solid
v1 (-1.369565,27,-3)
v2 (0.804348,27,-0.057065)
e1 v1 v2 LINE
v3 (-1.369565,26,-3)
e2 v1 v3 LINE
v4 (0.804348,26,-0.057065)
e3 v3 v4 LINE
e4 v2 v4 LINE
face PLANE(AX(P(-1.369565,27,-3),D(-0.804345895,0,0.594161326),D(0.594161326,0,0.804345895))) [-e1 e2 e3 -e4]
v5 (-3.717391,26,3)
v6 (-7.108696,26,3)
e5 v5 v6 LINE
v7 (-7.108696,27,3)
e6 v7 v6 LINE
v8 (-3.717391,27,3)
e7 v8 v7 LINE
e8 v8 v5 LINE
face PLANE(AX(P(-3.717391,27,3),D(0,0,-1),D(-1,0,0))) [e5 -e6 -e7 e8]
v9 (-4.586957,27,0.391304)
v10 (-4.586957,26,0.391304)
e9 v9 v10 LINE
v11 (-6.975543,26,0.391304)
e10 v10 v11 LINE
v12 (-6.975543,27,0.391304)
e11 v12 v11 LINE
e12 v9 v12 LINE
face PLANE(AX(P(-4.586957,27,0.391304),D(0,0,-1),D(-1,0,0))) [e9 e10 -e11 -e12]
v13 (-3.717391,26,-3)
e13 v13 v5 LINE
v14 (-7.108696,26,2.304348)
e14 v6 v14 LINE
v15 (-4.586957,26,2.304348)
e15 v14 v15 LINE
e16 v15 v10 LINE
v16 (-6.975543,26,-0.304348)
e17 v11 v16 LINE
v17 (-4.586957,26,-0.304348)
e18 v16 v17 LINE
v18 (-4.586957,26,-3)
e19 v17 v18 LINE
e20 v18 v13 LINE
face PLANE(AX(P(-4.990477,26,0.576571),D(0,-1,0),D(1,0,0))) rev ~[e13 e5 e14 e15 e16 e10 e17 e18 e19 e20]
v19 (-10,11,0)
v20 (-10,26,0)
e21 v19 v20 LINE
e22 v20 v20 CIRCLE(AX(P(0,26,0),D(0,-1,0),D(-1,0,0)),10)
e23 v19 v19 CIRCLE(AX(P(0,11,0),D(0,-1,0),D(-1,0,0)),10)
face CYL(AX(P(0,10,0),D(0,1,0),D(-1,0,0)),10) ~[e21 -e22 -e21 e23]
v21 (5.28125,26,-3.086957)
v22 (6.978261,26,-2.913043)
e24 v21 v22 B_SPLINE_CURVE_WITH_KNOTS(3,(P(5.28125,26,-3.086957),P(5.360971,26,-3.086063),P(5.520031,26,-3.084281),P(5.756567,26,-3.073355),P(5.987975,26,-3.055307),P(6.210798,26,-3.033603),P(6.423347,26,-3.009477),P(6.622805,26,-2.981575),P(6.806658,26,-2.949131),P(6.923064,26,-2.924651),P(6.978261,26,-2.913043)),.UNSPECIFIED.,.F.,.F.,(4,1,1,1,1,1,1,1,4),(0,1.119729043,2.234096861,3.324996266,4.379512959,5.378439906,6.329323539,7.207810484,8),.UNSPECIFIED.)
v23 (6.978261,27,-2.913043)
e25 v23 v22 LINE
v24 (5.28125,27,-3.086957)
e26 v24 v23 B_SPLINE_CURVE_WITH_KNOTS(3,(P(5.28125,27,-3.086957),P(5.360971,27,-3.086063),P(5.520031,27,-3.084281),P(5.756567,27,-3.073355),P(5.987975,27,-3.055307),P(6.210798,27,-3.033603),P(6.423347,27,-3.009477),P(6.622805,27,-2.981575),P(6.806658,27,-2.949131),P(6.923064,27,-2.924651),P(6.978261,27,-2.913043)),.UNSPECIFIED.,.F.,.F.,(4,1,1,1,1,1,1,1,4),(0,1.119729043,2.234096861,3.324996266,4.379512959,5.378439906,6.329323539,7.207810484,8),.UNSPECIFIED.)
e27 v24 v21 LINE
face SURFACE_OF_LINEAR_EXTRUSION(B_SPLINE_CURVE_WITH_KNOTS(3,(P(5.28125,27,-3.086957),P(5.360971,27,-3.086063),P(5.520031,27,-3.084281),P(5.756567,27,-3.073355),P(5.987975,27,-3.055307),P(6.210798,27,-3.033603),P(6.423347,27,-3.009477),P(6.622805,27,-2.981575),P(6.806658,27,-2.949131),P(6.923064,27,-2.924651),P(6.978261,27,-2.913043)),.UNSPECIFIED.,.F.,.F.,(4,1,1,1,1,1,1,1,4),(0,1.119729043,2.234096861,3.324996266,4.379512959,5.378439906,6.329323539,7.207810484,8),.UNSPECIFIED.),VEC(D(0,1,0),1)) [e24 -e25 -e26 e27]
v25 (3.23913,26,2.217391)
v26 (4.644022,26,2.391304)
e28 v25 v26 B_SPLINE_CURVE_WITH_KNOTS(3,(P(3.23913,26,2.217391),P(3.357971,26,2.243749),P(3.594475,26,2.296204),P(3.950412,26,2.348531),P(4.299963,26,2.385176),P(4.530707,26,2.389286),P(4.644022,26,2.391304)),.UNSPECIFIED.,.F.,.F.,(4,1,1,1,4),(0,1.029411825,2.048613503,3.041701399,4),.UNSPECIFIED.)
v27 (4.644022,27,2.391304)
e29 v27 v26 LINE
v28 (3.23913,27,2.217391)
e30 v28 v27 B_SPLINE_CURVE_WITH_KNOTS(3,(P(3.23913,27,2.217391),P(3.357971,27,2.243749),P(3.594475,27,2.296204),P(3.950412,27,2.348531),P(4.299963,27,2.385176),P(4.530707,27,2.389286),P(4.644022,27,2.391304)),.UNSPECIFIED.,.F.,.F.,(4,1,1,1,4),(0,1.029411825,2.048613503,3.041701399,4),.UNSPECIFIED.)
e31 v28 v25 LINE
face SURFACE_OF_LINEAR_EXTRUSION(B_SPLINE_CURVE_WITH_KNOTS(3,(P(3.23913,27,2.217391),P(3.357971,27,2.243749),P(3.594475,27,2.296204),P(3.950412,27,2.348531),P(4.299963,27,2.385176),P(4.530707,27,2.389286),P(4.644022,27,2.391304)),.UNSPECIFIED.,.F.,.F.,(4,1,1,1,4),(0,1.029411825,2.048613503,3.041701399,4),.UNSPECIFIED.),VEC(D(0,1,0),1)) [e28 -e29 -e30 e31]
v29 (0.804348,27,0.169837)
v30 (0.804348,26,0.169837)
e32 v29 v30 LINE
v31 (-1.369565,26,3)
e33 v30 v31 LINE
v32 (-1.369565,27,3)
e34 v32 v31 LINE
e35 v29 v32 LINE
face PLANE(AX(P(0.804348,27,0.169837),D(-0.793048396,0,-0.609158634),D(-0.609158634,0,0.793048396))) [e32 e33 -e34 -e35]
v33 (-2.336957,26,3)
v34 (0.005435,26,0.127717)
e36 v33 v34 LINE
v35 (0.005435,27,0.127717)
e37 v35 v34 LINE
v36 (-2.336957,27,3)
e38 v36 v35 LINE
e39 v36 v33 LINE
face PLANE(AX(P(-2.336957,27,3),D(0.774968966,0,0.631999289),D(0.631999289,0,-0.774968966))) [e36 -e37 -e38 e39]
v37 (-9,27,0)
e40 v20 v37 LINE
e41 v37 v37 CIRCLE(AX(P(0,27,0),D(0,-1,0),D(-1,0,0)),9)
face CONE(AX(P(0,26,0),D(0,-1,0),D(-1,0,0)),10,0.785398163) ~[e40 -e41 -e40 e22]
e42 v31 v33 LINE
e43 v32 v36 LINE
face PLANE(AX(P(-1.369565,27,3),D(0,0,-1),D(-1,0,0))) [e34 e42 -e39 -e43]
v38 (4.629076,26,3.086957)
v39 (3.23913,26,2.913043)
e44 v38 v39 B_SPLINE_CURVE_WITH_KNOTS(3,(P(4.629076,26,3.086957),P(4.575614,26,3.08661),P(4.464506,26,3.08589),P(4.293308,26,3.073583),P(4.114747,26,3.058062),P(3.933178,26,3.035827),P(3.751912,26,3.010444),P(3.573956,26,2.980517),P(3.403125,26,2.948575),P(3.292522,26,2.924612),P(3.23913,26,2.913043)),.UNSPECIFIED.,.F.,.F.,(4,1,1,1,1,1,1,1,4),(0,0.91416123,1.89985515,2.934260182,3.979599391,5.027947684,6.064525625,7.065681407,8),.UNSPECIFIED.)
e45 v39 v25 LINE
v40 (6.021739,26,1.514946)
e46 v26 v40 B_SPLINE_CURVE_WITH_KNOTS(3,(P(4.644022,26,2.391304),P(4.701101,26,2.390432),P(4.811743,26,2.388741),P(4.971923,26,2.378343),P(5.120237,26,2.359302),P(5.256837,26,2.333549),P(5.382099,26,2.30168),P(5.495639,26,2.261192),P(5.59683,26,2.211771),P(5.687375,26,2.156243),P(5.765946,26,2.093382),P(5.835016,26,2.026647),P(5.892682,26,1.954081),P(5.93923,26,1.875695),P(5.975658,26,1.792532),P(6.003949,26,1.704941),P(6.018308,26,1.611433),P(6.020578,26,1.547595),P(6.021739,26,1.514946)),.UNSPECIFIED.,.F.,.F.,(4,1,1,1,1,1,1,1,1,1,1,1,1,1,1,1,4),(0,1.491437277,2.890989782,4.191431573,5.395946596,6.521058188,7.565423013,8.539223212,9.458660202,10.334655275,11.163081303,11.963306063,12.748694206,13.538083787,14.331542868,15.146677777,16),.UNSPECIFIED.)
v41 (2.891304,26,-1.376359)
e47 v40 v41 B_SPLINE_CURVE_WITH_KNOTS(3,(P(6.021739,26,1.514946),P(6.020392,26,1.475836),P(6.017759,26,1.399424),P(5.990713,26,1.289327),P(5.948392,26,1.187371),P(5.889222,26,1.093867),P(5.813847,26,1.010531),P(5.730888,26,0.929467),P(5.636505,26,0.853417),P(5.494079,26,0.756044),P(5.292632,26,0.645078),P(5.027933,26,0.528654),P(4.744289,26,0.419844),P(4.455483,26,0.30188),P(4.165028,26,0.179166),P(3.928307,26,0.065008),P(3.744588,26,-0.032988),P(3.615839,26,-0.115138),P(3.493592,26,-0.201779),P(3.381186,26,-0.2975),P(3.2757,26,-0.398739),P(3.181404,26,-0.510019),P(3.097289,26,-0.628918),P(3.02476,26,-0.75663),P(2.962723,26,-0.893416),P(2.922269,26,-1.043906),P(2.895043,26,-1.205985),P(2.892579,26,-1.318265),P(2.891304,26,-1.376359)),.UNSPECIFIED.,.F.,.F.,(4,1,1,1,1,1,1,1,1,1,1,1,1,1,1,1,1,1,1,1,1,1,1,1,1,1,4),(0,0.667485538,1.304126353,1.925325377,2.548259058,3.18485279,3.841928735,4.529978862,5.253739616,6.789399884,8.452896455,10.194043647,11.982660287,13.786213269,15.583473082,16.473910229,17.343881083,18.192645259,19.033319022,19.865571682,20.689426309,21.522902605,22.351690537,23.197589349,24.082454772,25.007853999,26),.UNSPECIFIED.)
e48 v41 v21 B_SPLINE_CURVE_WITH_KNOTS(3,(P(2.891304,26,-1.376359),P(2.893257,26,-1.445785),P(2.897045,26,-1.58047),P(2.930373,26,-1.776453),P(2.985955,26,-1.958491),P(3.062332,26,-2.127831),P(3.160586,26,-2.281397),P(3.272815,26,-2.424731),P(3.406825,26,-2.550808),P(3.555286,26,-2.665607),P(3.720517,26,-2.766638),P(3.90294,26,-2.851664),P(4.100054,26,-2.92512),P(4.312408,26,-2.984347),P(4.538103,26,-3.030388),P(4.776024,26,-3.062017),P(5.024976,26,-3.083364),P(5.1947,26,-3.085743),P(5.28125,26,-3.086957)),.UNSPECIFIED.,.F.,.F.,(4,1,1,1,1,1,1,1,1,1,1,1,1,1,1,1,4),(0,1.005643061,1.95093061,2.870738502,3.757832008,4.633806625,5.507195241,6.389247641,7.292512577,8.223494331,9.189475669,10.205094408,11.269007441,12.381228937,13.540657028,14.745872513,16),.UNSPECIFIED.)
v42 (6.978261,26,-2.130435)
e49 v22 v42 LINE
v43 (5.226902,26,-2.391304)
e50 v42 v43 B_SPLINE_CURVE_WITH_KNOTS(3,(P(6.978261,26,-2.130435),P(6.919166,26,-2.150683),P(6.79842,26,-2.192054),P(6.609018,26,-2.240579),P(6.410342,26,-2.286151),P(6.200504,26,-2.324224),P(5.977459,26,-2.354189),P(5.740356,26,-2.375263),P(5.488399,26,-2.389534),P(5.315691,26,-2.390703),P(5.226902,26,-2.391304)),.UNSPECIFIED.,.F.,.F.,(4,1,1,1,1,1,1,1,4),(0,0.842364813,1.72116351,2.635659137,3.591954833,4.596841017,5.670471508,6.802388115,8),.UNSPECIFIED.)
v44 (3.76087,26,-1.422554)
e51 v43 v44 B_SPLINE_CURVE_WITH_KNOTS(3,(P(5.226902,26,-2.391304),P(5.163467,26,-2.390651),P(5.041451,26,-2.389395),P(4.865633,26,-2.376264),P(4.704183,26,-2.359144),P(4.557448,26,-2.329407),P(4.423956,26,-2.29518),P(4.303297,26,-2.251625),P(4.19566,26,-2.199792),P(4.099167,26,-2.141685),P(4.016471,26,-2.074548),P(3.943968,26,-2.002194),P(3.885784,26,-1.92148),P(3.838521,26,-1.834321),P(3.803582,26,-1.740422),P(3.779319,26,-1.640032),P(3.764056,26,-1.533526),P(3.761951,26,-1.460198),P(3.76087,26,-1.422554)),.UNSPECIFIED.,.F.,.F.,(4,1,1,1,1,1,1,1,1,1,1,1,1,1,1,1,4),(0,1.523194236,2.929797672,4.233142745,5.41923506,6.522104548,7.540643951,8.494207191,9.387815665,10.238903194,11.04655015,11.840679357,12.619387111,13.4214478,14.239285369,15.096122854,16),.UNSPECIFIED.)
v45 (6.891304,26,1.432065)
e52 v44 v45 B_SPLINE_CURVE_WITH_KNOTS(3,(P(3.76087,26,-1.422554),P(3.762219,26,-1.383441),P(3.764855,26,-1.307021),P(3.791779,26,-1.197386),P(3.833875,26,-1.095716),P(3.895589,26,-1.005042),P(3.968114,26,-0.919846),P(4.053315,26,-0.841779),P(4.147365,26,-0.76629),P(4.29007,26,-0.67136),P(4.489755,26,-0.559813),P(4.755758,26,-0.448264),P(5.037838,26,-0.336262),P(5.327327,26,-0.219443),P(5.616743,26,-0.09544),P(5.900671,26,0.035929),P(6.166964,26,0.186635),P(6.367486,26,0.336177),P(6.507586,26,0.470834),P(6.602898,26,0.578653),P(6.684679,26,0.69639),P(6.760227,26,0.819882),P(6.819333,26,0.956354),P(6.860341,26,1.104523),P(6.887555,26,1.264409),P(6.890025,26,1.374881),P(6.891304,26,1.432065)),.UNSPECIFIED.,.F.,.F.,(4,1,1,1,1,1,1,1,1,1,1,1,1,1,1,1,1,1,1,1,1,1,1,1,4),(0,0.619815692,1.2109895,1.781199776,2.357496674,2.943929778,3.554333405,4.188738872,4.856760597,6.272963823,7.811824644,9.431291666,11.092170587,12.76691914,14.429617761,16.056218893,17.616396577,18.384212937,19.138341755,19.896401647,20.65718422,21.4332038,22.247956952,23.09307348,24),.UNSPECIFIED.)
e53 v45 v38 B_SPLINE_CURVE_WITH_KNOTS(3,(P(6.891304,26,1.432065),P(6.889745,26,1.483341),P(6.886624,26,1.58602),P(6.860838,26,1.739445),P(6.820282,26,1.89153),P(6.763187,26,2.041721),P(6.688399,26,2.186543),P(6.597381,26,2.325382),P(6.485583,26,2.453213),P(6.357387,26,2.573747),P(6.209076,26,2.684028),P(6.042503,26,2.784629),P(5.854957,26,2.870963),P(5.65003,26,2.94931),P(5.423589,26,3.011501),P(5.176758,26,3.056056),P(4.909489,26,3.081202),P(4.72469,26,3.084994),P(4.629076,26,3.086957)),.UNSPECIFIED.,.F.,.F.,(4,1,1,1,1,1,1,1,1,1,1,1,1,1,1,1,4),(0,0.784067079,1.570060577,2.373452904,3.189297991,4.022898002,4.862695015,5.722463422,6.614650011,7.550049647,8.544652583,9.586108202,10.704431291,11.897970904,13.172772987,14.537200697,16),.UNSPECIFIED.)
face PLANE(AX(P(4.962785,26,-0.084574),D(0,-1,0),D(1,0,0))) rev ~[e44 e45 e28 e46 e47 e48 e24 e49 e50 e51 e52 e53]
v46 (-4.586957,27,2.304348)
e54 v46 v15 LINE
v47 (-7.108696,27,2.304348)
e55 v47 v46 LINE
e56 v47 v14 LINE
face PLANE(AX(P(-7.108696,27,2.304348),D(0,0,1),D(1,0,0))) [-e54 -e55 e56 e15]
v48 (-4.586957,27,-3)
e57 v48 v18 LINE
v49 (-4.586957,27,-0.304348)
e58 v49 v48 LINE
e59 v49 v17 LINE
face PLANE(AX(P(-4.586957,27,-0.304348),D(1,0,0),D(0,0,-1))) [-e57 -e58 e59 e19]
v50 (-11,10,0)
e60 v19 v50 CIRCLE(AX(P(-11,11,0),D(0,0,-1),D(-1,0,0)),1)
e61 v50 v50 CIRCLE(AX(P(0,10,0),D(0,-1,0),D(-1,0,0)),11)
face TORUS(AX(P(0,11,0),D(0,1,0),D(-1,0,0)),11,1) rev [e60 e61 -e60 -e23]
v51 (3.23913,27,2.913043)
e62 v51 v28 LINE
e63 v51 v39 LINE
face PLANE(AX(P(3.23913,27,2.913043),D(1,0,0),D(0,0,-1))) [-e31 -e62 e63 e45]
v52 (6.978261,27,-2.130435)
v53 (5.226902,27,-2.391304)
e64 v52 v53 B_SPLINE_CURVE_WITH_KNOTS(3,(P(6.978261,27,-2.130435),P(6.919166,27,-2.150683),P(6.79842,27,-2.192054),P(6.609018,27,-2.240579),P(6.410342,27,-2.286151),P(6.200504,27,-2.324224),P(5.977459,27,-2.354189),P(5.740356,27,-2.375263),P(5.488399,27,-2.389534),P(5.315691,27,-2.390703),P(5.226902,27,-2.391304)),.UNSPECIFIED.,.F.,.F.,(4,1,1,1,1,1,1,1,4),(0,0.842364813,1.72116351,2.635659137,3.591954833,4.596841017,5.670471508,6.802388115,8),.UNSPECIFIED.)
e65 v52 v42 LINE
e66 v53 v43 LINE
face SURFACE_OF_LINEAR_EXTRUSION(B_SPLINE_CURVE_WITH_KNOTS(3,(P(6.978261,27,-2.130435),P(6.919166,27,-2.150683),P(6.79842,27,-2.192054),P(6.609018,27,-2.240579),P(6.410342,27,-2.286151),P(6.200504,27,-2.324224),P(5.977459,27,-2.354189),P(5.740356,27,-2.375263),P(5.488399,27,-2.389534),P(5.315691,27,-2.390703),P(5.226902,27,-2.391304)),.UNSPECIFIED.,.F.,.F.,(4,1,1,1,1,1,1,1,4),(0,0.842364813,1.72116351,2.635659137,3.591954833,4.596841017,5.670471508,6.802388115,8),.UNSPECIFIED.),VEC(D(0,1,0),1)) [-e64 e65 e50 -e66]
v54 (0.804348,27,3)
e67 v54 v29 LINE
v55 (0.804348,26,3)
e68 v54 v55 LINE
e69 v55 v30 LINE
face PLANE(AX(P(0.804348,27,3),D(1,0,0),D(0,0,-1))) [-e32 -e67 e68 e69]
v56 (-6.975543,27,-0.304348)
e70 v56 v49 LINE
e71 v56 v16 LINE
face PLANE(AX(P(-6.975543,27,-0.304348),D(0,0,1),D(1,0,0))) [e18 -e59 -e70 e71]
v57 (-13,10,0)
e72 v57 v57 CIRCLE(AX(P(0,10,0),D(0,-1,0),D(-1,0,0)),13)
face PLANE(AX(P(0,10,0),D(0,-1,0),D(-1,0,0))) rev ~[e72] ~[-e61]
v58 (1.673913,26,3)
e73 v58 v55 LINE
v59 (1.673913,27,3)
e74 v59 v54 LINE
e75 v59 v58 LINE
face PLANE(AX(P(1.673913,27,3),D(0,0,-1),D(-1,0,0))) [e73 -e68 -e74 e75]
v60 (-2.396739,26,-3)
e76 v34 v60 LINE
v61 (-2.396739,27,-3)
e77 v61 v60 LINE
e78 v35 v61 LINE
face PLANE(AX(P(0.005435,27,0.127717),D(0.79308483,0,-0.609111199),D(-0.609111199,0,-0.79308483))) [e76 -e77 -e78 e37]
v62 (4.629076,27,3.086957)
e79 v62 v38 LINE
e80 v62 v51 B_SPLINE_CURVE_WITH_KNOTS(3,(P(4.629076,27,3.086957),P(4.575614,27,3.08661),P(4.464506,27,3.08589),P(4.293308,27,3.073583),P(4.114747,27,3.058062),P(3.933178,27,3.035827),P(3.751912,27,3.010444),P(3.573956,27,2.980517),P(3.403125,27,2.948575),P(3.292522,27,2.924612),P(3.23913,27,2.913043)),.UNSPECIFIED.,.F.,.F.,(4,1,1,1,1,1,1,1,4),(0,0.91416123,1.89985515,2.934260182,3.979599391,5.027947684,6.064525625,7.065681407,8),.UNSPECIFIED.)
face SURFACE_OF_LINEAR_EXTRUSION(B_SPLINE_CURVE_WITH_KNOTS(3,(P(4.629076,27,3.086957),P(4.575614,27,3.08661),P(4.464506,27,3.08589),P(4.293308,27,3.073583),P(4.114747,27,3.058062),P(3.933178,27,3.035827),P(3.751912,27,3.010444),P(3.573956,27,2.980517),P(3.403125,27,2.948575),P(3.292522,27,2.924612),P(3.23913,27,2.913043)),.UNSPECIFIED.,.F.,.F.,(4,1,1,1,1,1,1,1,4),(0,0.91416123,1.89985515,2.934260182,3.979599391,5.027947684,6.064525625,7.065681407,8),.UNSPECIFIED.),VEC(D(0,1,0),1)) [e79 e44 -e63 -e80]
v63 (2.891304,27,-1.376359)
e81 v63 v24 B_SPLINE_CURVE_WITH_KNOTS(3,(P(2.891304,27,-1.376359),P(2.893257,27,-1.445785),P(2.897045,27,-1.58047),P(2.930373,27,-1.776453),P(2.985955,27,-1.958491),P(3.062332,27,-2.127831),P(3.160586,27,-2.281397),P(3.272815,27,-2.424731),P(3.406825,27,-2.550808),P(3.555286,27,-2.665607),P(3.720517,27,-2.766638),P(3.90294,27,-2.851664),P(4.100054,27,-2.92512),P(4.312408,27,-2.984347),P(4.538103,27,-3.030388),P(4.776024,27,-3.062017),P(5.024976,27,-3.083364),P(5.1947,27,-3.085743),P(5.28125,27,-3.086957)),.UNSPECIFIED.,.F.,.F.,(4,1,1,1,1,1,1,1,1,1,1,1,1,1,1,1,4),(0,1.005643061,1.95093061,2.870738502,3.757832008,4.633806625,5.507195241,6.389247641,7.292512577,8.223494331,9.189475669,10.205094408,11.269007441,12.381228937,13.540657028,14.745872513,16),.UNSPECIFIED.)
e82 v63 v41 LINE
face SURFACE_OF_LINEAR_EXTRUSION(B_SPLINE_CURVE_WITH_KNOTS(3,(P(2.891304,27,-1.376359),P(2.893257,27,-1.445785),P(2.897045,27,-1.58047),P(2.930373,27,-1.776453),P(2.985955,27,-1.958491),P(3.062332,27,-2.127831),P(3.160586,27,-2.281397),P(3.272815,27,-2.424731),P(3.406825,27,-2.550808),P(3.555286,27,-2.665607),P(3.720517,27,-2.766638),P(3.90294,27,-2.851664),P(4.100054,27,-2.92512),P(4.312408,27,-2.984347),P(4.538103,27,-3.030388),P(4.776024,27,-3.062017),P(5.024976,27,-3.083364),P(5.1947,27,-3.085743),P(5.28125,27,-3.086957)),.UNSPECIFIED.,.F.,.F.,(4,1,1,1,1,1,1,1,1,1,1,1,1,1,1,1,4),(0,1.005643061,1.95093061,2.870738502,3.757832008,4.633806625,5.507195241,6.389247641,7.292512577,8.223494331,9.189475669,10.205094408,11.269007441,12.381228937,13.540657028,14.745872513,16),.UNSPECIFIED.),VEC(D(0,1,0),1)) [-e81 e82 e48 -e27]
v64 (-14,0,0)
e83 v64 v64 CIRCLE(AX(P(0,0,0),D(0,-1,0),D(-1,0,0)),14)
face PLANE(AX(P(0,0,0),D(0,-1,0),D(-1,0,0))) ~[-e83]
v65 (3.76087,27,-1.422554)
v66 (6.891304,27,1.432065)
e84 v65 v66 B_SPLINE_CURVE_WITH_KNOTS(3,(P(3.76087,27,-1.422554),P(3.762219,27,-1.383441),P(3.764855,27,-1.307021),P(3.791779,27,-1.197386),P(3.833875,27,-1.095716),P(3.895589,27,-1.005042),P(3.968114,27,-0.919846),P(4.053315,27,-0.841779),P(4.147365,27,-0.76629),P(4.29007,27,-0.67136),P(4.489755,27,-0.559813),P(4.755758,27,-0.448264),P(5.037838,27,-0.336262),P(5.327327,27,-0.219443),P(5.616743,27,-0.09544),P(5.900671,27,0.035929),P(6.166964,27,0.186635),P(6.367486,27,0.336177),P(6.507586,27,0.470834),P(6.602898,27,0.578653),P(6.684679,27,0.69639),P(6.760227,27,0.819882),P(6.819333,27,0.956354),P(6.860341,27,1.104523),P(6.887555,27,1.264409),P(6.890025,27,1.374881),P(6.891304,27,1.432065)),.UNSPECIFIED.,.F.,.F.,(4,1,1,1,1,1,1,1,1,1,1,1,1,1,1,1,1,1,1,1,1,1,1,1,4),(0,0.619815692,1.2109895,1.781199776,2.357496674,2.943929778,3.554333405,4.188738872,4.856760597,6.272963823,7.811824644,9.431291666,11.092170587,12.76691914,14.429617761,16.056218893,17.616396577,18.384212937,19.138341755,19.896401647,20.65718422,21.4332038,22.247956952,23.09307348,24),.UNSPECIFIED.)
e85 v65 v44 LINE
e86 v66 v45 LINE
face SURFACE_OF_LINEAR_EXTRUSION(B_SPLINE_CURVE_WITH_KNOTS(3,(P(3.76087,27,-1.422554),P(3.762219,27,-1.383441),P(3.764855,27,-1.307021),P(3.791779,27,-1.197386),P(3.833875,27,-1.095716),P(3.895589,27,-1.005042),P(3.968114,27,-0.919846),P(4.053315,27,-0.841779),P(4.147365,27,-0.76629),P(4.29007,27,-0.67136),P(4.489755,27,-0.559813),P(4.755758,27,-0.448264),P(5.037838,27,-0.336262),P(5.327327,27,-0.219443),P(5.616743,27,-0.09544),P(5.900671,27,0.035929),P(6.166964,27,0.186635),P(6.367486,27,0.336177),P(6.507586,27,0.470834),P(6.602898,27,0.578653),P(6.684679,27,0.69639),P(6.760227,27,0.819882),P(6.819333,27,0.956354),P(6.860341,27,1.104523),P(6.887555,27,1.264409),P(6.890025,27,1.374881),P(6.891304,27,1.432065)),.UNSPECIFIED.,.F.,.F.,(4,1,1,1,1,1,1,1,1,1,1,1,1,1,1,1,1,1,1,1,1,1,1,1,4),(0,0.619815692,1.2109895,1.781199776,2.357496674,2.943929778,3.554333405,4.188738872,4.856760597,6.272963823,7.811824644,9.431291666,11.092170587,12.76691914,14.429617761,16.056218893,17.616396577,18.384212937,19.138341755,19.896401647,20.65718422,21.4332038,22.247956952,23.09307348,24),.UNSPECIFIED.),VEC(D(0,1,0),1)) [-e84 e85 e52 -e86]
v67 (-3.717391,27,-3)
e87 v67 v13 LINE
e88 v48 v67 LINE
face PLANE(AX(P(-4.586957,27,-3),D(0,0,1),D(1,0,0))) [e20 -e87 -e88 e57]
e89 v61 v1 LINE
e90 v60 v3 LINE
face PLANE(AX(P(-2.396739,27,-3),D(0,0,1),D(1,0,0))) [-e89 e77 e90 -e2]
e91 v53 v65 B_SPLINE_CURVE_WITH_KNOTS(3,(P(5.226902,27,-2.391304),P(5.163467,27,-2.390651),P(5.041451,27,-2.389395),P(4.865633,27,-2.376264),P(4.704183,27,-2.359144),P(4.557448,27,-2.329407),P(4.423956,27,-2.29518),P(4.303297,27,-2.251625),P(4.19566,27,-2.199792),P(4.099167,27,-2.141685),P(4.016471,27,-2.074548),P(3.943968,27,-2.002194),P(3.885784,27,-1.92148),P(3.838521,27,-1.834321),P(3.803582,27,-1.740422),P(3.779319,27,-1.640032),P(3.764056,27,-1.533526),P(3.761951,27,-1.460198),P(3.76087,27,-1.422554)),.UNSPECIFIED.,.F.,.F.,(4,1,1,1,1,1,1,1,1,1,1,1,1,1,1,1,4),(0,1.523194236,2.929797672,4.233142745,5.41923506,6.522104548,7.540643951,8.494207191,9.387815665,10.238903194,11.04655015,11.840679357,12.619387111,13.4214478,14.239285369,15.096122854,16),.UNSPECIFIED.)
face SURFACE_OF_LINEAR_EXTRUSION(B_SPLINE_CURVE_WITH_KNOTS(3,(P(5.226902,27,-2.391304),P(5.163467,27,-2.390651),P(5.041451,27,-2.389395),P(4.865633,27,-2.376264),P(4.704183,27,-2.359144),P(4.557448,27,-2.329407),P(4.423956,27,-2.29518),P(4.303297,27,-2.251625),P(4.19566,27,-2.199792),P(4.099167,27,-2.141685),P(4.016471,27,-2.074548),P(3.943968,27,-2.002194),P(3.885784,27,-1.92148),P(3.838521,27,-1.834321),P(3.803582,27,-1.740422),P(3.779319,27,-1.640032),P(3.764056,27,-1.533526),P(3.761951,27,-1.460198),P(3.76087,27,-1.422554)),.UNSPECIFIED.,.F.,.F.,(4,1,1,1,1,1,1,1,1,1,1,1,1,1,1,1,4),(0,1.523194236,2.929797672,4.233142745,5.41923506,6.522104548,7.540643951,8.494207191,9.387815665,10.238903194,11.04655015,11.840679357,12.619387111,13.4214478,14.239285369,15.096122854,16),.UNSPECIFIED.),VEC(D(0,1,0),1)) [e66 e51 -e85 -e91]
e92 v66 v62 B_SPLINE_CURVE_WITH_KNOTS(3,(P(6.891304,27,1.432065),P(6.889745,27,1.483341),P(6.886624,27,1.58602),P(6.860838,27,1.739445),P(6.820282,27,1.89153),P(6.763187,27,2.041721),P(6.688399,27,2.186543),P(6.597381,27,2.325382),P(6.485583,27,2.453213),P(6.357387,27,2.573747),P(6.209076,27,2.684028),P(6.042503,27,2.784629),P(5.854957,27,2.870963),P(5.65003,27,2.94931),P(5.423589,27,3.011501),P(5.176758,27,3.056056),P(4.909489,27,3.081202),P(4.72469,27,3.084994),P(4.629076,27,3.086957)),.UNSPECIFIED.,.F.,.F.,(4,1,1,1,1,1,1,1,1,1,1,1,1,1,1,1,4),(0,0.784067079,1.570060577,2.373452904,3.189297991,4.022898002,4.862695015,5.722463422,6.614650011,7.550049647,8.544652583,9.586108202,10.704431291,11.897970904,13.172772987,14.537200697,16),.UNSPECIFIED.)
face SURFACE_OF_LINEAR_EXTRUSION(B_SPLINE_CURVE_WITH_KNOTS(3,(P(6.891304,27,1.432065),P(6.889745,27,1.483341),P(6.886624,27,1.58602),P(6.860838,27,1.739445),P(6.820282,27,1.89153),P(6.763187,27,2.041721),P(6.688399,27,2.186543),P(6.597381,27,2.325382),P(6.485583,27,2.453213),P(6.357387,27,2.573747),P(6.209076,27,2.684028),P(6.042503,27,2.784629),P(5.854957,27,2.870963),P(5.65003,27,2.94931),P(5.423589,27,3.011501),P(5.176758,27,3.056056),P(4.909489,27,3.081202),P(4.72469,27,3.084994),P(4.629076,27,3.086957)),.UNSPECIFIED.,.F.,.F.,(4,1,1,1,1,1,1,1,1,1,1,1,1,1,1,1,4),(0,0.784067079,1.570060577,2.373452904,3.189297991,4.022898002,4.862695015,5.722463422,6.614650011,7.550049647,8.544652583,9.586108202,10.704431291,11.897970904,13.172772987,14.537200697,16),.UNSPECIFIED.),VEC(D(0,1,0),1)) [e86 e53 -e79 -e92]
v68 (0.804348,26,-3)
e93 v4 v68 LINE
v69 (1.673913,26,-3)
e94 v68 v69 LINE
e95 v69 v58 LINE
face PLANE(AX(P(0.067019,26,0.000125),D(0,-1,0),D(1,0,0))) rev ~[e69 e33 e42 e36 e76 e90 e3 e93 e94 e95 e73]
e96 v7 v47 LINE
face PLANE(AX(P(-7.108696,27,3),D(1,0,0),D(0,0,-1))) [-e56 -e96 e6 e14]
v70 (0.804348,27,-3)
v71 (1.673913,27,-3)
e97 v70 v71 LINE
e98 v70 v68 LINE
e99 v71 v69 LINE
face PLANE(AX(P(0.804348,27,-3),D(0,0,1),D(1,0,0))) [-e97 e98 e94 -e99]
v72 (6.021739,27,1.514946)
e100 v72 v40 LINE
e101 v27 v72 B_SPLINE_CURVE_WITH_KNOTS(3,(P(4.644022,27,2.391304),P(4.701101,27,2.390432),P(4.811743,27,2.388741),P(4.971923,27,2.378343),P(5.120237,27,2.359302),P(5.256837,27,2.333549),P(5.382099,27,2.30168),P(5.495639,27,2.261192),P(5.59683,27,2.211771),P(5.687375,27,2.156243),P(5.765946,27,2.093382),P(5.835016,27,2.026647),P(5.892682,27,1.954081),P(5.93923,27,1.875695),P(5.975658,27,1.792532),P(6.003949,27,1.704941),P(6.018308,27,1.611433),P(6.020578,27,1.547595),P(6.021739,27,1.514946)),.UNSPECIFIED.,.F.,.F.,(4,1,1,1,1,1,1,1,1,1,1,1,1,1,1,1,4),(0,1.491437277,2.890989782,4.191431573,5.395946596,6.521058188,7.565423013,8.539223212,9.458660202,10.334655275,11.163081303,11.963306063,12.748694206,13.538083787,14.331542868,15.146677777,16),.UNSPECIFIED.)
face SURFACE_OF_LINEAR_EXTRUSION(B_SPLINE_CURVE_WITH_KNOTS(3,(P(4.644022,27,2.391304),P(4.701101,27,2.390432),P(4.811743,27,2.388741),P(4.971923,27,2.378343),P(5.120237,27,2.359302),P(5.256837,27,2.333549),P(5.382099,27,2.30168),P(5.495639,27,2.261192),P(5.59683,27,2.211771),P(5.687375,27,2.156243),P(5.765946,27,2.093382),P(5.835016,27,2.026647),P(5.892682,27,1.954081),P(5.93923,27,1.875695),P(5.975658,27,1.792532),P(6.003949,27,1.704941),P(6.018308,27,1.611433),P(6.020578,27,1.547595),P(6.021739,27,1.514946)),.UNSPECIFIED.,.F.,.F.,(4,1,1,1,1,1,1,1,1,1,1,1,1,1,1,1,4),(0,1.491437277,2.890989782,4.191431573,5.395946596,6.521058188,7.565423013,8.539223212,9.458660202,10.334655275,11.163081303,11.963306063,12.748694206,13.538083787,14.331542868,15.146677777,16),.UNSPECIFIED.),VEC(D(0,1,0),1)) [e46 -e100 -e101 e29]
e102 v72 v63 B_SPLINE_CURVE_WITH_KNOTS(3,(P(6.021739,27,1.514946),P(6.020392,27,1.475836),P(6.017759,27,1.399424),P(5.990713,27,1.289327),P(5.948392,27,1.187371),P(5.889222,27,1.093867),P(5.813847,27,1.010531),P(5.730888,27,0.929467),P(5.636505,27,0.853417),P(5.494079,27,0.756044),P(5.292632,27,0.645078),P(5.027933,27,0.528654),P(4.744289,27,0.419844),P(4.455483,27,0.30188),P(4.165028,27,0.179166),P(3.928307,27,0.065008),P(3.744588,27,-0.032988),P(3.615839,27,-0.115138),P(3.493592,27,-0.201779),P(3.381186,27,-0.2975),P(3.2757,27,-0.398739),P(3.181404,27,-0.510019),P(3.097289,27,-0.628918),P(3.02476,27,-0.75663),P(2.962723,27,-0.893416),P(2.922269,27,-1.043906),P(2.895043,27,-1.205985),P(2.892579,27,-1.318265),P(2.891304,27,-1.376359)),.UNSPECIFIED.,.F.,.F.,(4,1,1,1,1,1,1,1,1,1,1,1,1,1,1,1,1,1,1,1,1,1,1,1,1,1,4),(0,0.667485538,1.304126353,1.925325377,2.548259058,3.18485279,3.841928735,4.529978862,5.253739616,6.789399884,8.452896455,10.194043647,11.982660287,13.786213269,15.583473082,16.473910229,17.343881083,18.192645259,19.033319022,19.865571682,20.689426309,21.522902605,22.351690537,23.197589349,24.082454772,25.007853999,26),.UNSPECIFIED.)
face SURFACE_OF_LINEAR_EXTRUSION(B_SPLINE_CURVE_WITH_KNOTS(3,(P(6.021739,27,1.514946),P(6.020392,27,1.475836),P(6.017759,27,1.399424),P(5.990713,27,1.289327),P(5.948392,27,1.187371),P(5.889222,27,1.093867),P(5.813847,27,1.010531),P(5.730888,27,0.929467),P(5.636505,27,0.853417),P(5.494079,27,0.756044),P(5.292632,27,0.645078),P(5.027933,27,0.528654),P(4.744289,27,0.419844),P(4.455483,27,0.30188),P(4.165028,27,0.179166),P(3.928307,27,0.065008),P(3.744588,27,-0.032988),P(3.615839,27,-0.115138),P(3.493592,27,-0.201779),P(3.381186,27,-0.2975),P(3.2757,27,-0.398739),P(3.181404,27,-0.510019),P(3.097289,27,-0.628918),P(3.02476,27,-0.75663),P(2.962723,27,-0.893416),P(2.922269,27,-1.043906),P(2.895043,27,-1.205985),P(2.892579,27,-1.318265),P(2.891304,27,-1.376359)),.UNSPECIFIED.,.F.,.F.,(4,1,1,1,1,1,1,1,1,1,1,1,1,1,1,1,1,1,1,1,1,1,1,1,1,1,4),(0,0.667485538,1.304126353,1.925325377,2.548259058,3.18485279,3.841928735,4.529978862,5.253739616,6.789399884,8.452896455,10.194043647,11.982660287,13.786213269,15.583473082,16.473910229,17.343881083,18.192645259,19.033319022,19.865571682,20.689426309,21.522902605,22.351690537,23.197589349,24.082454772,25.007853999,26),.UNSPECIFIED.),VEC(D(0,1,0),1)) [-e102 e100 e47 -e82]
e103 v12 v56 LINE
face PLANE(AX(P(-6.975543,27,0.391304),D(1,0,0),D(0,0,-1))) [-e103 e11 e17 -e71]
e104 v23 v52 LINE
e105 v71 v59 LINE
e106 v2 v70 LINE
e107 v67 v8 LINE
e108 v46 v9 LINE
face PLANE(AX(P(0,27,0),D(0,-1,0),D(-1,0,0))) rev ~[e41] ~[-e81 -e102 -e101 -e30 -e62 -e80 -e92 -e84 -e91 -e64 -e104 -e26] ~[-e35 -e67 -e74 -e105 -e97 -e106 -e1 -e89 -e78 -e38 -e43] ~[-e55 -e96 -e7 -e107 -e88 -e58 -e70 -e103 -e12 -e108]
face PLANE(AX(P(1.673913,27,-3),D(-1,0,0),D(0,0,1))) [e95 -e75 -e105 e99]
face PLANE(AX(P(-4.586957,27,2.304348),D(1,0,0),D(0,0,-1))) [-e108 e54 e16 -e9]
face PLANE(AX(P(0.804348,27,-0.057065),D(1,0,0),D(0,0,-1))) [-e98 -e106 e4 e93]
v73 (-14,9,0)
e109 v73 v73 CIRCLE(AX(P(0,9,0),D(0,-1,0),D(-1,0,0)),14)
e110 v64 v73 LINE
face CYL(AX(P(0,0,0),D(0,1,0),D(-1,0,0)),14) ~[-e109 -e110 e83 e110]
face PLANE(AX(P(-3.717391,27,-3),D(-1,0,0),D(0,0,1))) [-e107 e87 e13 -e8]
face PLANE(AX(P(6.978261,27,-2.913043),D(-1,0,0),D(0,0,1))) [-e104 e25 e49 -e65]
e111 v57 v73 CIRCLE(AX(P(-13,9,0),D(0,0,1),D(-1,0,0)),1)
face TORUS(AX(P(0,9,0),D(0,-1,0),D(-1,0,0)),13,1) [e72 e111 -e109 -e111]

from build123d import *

# Parameters (mm, degrees)
CHAMFER1_SIZE      = 1
FILLET1_R          = 1
FILLET2_R          = 1
CUT_EXTRUDE1_DEPTH = 1


with BuildPart() as part:
    # Sketch1 → Revolve1 (revolve)
    with BuildSketch(Plane(origin=(0, 0, 0), x_dir=(0, 1, 0), z_dir=(0, 0, 1))):
        Polygon((0, 14), (10, 14), (10, 10), (27, 10), (27, 0), (0, 0), align=None)
    revolve(axis=Axis((0, 27, 0), (0, -1, 0)))

    # Chamfer1
    chamfer1_edges = [part.edges().sort_by_distance(p)[0] for p in [
        (10, 27, 0),
    ]]
    chamfer(chamfer1_edges, length=CHAMFER1_SIZE)

    # Fillet1
    fillet1_edges = [part.edges().sort_by_distance(p)[0] for p in [
        (10, 10, 0),
    ]]
    fillet(fillet1_edges, radius=FILLET1_R)

    # Fillet2
    fillet2_edges = [part.edges().sort_by_distance(p)[0] for p in [
        (14, 10, 0),
    ]]
    fillet(fillet2_edges, radius=FILLET2_R)

    # Sketch2 → Cut-Extrude1 (cut)
    with BuildSketch(Plane(origin=(0, 27, 0), x_dir=(-1, 0, 0), z_dir=(0, 1, 0))):
        with BuildLine():
            add(Edge.make_bspline(
                [(-2.891304348, -1.376358696), (-2.893256975, -1.445784768), (-2.89704504, -1.580470179), (-2.930373434, -1.776453017), (-2.985954677, -1.958491369), (-3.06233216, -2.127831325), (-3.160586384, -2.281397406), (-3.272814945, -2.424730968), (-3.406825247, -2.550807782), (-3.555286262, -2.665606611), (-3.720516873, -2.766637543), (-3.902939881, -2.851664305), (-4.1000545, -2.925119751), (-4.312408375, -2.984347065), (-4.538102751, -3.030388297), (-4.776023597, -3.062017105), (-5.024975551, -3.08336435), (-5.19470001, -3.08574336), (-5.28125, -3.086956522)],
                knots=[0, 0, 0, 0, 1.005643061, 1.95093061, 2.870738502, 3.757832008, 4.633806625, 5.507195241, 6.389247641, 7.292512577, 8.223494331, 9.189475669, 10.205094408, 11.269007441, 12.381228937, 13.540657028, 14.745872513, 16, 16, 16, 16], degree=3))
            add(Edge.make_bspline(
                [(-5.28125, -3.086956522), (-5.360971004, -3.086063288), (-5.520031312, -3.084281097), (-5.75656703, -3.073355487), (-5.987975241, -3.055306767), (-6.21079801, -3.033603304), (-6.423346627, -3.009477077), (-6.622805279, -2.981574567), (-6.806658039, -2.949130506), (-6.923064215, -2.924650998), (-6.97826087, -2.913043478)],
                knots=[0, 0, 0, 0, 1.119729043, 2.234096861, 3.324996266, 4.379512959, 5.378439906, 6.329323539, 7.207810484, 8, 8, 8, 8], degree=3))
            Line((-6.97826087, -2.913043478), (-6.97826087, -2.130434783))
            add(Edge.make_bspline(
                [(-6.97826087, -2.130434783), (-6.919165793, -2.150682551), (-6.798419665, -2.192053842), (-6.609018112, -2.240578611), (-6.41034209, -2.286150871), (-6.20050371, -2.324223656), (-5.977458635, -2.354188802), (-5.74035588, -2.375262926), (-5.488398941, -2.389534151), (-5.315691279, -2.390703292), (-5.226902174, -2.391304348)],
                knots=[0, 0, 0, 0, 0.842364813, 1.72116351, 2.635659137, 3.591954833, 4.596841017, 5.670471508, 6.802388115, 8, 8, 8, 8], degree=3))
            add(Edge.make_bspline(
                [(-5.226902174, -2.391304348), (-5.163466632, -2.390651338), (-5.041451136, -2.389395301), (-4.865633018, -2.376263738), (-4.704182749, -2.3591435), (-4.557448129, -2.32940707), (-4.423956498, -2.295180195), (-4.303296886, -2.251625304), (-4.19565966, -2.199792452), (-4.099167106, -2.141685494), (-4.01647088, -2.074548109), (-3.943968157, -2.002194202), (-3.885784495, -1.921479924), (-3.838521468, -1.83432077), (-3.803582408, -1.740421984), (-3.779319418, -1.640031503), (-3.764056478, -1.533525867), (-3.761950623, -1.46019787), (-3.760869565, -1.422554348)],
                knots=[0, 0, 0, 0, 1.523194236, 2.929797672, 4.233142745, 5.41923506, 6.522104548, 7.540643951, 8.494207191, 9.387815665, 10.238903194, 11.04655015, 11.840679357, 12.619387111, 13.4214478, 14.239285369, 15.096122854, 16, 16, 16, 16], degree=3))
            add(Edge.make_bspline(
                [(-3.760869565, -1.422554348), (-3.762218701, -1.383440778), (-3.764854628, -1.307021088), (-3.791778823, -1.197385593), (-3.833874612, -1.095715968), (-3.895589177, -1.005041856), (-3.968114472, -0.919845819), (-4.053315168, -0.841779159), (-4.147364807, -0.766290328), (-4.290070482, -0.671359764), (-4.489755312, -0.559812554), (-4.755758112, -0.448263589), (-5.037837792, -0.336261682), (-5.327327353, -0.219443132), (-5.616743105, -0.095439779), (-5.900671358, 0.035928527), (-6.166963577, 0.186635246), (-6.367486356, 0.3361767), (-6.50758604, 0.470833926), (-6.602897854, 0.578652807), (-6.684679481, 0.696390124), (-6.760227351, 0.81988187), (-6.819332991, 0.95635363), (-6.860340608, 1.104522993), (-6.887554703, 1.264408532), (-6.890025412, 1.374880549), (-6.891304348, 1.432065217)],
                knots=[0, 0, 0, 0, 0.619815692, 1.2109895, 1.781199776, 2.357496674, 2.943929778, 3.554333405, 4.188738872, 4.856760597, 6.272963823, 7.811824644, 9.431291666, 11.092170587, 12.76691914, 14.429617761, 16.056218893, 17.616396577, 18.384212937, 19.138341755, 19.896401647, 20.65718422, 21.4332038, 22.247956952, 23.09307348, 24, 24, 24, 24], degree=3))
            add(Edge.make_bspline(
                [(-6.891304348, 1.432065217), (-6.889745465, 1.483341333), (-6.886623871, 1.586019546), (-6.860837557, 1.739445048), (-6.820282244, 1.891529982), (-6.763187009, 2.041721189), (-6.688399481, 2.186542657), (-6.59738111, 2.325382168), (-6.485582972, 2.453213148), (-6.357387336, 2.573747467), (-6.209075999, 2.684028027), (-6.042502613, 2.784628777), (-5.85495723, 2.870963409), (-5.650029948, 2.949309849), (-5.423589443, 3.011500607), (-5.17675842, 3.056055567), (-4.909488573, 3.08120208), (-4.72469023, 3.084994391), (-4.629076087, 3.086956522)],
                knots=[0, 0, 0, 0, 0.784067079, 1.570060577, 2.373452904, 3.189297991, 4.022898002, 4.862695015, 5.722463422, 6.614650011, 7.550049647, 8.544652583, 9.586108202, 10.704431291, 11.897970904, 13.172772987, 14.537200697, 16, 16, 16, 16], degree=3))
            add(Edge.make_bspline(
                [(-4.629076087, 3.086956522), (-4.575613848, 3.086610144), (-4.464505975, 3.085890284), (-4.293308173, 3.073583281), (-4.114746578, 3.058061805), (-3.933177649, 3.035827154), (-3.751912041, 3.010443569), (-3.57395579, 2.980516606), (-3.403125456, 2.948575486), (-3.292522299, 2.924611635), (-3.239130435, 2.913043478)],
                knots=[0, 0, 0, 0, 0.91416123, 1.89985515, 2.934260182, 3.979599391, 5.027947684, 6.064525625, 7.065681407, 8, 8, 8, 8], degree=3))
            Line((-3.239130435, 2.913043478), (-3.239130435, 2.217391304))
            add(Edge.make_bspline(
                [(-3.239130435, 2.217391304), (-3.357971402, 2.243749443), (-3.594474622, 2.29620429), (-3.950412242, 2.348530566), (-4.299963453, 2.385175658), (-4.530706874, 2.389285877), (-4.644021739, 2.391304348)],
                knots=[0, 0, 0, 0, 1.029411825, 2.048613503, 3.041701399, 4, 4, 4, 4], degree=3))
            add(Edge.make_bspline(
                [(-4.644021739, 2.391304348), (-4.701101178, 2.390431872), (-4.811743494, 2.388740672), (-4.971923163, 2.378342646), (-5.120237405, 2.359301917), (-5.256836907, 2.3335494), (-5.382099169, 2.301680277), (-5.495638683, 2.261191945), (-5.596829934, 2.211770598), (-5.6873755, 2.15624259), (-5.765945999, 2.093381994), (-5.835015926, 2.026647347), (-5.892681803, 1.954080686), (-5.939230398, 1.875694945), (-5.97565839, 1.792532309), (-6.003949196, 1.70494053), (-6.018307856, 1.61143275), (-6.020578052, 1.547595053), (-6.02173913, 1.514945652)],
                knots=[0, 0, 0, 0, 1.491437277, 2.890989782, 4.191431573, 5.395946596, 6.521058188, 7.565423013, 8.539223212, 9.458660202, 10.334655275, 11.163081303, 11.963306063, 12.748694206, 13.538083787, 14.331542868, 15.146677777, 16, 16, 16, 16], degree=3))
            add(Edge.make_bspline(
                [(-6.02173913, 1.514945652), (-6.020391512, 1.475835905), (-6.017758549, 1.399423684), (-5.990712947, 1.289326834), (-5.948392096, 1.187371322), (-5.889221823, 1.093867016), (-5.813847439, 1.010530917), (-5.730887666, 0.929467142), (-5.636504976, 0.853417269), (-5.494079004, 0.756044238), (-5.292632358, 0.645078177), (-5.027933357, 0.528654214), (-4.744289363, 0.419843921), (-4.455483254, 0.301879764), (-4.165028382, 0.179166441), (-3.928307462, 0.065008), (-3.744588107, -0.032987708), (-3.61583947, -0.115137783), (-3.493592228, -0.201779371), (-3.381185761, -0.297499604), (-3.27569995, -0.398738791), (-3.181404108, -0.510019231), (-3.097288568, -0.628917616), (-3.02475958, -0.756630047), (-2.962723179, -0.893416032), (-2.922268905, -1.043906372), (-2.895043236, -1.205985193), (-2.892579233, -1.318264769), (-2.891304348, -1.376358696)],
                knots=[0, 0, 0, 0, 0.667485538, 1.304126353, 1.925325377, 2.548259058, 3.18485279, 3.841928735, 4.529978862, 5.253739616, 6.789399884, 8.452896455, 10.194043647, 11.982660287, 13.786213269, 15.583473082, 16.473910229, 17.343881083, 18.192645259, 19.033319022, 19.865571682, 20.689426309, 21.522902605, 22.351690537, 23.197589349, 24.082454772, 25.007853999, 26, 26, 26, 26], degree=3))
        make_face()
        Polygon((2.39673913, -3), (1.369565217, -3), (-0.804347826, -0.057065217), (-0.804347826, -3), (-1.673913043, -3), (-1.673913043, 3), (-0.804347826, 3), (-0.804347826, 0.169836957), (1.369565217, 3), (2.336956522, 3), (-0.005434783, 0.127717391), align=None)
        Polygon((7.108695652, 2.304347826), (4.586956522, 2.304347826), (4.586956522, 0.391304348), (6.975543478, 0.391304348), (6.975543478, -0.304347826), (4.586956522, -0.304347826), (4.586956522, -3), (3.717391304, -3), (3.717391304, 3), (7.108695652, 3), align=None)
    extrude(amount=-CUT_EXTRUDE1_DEPTH, mode=Mode.SUBTRACT)


solid = part.part
